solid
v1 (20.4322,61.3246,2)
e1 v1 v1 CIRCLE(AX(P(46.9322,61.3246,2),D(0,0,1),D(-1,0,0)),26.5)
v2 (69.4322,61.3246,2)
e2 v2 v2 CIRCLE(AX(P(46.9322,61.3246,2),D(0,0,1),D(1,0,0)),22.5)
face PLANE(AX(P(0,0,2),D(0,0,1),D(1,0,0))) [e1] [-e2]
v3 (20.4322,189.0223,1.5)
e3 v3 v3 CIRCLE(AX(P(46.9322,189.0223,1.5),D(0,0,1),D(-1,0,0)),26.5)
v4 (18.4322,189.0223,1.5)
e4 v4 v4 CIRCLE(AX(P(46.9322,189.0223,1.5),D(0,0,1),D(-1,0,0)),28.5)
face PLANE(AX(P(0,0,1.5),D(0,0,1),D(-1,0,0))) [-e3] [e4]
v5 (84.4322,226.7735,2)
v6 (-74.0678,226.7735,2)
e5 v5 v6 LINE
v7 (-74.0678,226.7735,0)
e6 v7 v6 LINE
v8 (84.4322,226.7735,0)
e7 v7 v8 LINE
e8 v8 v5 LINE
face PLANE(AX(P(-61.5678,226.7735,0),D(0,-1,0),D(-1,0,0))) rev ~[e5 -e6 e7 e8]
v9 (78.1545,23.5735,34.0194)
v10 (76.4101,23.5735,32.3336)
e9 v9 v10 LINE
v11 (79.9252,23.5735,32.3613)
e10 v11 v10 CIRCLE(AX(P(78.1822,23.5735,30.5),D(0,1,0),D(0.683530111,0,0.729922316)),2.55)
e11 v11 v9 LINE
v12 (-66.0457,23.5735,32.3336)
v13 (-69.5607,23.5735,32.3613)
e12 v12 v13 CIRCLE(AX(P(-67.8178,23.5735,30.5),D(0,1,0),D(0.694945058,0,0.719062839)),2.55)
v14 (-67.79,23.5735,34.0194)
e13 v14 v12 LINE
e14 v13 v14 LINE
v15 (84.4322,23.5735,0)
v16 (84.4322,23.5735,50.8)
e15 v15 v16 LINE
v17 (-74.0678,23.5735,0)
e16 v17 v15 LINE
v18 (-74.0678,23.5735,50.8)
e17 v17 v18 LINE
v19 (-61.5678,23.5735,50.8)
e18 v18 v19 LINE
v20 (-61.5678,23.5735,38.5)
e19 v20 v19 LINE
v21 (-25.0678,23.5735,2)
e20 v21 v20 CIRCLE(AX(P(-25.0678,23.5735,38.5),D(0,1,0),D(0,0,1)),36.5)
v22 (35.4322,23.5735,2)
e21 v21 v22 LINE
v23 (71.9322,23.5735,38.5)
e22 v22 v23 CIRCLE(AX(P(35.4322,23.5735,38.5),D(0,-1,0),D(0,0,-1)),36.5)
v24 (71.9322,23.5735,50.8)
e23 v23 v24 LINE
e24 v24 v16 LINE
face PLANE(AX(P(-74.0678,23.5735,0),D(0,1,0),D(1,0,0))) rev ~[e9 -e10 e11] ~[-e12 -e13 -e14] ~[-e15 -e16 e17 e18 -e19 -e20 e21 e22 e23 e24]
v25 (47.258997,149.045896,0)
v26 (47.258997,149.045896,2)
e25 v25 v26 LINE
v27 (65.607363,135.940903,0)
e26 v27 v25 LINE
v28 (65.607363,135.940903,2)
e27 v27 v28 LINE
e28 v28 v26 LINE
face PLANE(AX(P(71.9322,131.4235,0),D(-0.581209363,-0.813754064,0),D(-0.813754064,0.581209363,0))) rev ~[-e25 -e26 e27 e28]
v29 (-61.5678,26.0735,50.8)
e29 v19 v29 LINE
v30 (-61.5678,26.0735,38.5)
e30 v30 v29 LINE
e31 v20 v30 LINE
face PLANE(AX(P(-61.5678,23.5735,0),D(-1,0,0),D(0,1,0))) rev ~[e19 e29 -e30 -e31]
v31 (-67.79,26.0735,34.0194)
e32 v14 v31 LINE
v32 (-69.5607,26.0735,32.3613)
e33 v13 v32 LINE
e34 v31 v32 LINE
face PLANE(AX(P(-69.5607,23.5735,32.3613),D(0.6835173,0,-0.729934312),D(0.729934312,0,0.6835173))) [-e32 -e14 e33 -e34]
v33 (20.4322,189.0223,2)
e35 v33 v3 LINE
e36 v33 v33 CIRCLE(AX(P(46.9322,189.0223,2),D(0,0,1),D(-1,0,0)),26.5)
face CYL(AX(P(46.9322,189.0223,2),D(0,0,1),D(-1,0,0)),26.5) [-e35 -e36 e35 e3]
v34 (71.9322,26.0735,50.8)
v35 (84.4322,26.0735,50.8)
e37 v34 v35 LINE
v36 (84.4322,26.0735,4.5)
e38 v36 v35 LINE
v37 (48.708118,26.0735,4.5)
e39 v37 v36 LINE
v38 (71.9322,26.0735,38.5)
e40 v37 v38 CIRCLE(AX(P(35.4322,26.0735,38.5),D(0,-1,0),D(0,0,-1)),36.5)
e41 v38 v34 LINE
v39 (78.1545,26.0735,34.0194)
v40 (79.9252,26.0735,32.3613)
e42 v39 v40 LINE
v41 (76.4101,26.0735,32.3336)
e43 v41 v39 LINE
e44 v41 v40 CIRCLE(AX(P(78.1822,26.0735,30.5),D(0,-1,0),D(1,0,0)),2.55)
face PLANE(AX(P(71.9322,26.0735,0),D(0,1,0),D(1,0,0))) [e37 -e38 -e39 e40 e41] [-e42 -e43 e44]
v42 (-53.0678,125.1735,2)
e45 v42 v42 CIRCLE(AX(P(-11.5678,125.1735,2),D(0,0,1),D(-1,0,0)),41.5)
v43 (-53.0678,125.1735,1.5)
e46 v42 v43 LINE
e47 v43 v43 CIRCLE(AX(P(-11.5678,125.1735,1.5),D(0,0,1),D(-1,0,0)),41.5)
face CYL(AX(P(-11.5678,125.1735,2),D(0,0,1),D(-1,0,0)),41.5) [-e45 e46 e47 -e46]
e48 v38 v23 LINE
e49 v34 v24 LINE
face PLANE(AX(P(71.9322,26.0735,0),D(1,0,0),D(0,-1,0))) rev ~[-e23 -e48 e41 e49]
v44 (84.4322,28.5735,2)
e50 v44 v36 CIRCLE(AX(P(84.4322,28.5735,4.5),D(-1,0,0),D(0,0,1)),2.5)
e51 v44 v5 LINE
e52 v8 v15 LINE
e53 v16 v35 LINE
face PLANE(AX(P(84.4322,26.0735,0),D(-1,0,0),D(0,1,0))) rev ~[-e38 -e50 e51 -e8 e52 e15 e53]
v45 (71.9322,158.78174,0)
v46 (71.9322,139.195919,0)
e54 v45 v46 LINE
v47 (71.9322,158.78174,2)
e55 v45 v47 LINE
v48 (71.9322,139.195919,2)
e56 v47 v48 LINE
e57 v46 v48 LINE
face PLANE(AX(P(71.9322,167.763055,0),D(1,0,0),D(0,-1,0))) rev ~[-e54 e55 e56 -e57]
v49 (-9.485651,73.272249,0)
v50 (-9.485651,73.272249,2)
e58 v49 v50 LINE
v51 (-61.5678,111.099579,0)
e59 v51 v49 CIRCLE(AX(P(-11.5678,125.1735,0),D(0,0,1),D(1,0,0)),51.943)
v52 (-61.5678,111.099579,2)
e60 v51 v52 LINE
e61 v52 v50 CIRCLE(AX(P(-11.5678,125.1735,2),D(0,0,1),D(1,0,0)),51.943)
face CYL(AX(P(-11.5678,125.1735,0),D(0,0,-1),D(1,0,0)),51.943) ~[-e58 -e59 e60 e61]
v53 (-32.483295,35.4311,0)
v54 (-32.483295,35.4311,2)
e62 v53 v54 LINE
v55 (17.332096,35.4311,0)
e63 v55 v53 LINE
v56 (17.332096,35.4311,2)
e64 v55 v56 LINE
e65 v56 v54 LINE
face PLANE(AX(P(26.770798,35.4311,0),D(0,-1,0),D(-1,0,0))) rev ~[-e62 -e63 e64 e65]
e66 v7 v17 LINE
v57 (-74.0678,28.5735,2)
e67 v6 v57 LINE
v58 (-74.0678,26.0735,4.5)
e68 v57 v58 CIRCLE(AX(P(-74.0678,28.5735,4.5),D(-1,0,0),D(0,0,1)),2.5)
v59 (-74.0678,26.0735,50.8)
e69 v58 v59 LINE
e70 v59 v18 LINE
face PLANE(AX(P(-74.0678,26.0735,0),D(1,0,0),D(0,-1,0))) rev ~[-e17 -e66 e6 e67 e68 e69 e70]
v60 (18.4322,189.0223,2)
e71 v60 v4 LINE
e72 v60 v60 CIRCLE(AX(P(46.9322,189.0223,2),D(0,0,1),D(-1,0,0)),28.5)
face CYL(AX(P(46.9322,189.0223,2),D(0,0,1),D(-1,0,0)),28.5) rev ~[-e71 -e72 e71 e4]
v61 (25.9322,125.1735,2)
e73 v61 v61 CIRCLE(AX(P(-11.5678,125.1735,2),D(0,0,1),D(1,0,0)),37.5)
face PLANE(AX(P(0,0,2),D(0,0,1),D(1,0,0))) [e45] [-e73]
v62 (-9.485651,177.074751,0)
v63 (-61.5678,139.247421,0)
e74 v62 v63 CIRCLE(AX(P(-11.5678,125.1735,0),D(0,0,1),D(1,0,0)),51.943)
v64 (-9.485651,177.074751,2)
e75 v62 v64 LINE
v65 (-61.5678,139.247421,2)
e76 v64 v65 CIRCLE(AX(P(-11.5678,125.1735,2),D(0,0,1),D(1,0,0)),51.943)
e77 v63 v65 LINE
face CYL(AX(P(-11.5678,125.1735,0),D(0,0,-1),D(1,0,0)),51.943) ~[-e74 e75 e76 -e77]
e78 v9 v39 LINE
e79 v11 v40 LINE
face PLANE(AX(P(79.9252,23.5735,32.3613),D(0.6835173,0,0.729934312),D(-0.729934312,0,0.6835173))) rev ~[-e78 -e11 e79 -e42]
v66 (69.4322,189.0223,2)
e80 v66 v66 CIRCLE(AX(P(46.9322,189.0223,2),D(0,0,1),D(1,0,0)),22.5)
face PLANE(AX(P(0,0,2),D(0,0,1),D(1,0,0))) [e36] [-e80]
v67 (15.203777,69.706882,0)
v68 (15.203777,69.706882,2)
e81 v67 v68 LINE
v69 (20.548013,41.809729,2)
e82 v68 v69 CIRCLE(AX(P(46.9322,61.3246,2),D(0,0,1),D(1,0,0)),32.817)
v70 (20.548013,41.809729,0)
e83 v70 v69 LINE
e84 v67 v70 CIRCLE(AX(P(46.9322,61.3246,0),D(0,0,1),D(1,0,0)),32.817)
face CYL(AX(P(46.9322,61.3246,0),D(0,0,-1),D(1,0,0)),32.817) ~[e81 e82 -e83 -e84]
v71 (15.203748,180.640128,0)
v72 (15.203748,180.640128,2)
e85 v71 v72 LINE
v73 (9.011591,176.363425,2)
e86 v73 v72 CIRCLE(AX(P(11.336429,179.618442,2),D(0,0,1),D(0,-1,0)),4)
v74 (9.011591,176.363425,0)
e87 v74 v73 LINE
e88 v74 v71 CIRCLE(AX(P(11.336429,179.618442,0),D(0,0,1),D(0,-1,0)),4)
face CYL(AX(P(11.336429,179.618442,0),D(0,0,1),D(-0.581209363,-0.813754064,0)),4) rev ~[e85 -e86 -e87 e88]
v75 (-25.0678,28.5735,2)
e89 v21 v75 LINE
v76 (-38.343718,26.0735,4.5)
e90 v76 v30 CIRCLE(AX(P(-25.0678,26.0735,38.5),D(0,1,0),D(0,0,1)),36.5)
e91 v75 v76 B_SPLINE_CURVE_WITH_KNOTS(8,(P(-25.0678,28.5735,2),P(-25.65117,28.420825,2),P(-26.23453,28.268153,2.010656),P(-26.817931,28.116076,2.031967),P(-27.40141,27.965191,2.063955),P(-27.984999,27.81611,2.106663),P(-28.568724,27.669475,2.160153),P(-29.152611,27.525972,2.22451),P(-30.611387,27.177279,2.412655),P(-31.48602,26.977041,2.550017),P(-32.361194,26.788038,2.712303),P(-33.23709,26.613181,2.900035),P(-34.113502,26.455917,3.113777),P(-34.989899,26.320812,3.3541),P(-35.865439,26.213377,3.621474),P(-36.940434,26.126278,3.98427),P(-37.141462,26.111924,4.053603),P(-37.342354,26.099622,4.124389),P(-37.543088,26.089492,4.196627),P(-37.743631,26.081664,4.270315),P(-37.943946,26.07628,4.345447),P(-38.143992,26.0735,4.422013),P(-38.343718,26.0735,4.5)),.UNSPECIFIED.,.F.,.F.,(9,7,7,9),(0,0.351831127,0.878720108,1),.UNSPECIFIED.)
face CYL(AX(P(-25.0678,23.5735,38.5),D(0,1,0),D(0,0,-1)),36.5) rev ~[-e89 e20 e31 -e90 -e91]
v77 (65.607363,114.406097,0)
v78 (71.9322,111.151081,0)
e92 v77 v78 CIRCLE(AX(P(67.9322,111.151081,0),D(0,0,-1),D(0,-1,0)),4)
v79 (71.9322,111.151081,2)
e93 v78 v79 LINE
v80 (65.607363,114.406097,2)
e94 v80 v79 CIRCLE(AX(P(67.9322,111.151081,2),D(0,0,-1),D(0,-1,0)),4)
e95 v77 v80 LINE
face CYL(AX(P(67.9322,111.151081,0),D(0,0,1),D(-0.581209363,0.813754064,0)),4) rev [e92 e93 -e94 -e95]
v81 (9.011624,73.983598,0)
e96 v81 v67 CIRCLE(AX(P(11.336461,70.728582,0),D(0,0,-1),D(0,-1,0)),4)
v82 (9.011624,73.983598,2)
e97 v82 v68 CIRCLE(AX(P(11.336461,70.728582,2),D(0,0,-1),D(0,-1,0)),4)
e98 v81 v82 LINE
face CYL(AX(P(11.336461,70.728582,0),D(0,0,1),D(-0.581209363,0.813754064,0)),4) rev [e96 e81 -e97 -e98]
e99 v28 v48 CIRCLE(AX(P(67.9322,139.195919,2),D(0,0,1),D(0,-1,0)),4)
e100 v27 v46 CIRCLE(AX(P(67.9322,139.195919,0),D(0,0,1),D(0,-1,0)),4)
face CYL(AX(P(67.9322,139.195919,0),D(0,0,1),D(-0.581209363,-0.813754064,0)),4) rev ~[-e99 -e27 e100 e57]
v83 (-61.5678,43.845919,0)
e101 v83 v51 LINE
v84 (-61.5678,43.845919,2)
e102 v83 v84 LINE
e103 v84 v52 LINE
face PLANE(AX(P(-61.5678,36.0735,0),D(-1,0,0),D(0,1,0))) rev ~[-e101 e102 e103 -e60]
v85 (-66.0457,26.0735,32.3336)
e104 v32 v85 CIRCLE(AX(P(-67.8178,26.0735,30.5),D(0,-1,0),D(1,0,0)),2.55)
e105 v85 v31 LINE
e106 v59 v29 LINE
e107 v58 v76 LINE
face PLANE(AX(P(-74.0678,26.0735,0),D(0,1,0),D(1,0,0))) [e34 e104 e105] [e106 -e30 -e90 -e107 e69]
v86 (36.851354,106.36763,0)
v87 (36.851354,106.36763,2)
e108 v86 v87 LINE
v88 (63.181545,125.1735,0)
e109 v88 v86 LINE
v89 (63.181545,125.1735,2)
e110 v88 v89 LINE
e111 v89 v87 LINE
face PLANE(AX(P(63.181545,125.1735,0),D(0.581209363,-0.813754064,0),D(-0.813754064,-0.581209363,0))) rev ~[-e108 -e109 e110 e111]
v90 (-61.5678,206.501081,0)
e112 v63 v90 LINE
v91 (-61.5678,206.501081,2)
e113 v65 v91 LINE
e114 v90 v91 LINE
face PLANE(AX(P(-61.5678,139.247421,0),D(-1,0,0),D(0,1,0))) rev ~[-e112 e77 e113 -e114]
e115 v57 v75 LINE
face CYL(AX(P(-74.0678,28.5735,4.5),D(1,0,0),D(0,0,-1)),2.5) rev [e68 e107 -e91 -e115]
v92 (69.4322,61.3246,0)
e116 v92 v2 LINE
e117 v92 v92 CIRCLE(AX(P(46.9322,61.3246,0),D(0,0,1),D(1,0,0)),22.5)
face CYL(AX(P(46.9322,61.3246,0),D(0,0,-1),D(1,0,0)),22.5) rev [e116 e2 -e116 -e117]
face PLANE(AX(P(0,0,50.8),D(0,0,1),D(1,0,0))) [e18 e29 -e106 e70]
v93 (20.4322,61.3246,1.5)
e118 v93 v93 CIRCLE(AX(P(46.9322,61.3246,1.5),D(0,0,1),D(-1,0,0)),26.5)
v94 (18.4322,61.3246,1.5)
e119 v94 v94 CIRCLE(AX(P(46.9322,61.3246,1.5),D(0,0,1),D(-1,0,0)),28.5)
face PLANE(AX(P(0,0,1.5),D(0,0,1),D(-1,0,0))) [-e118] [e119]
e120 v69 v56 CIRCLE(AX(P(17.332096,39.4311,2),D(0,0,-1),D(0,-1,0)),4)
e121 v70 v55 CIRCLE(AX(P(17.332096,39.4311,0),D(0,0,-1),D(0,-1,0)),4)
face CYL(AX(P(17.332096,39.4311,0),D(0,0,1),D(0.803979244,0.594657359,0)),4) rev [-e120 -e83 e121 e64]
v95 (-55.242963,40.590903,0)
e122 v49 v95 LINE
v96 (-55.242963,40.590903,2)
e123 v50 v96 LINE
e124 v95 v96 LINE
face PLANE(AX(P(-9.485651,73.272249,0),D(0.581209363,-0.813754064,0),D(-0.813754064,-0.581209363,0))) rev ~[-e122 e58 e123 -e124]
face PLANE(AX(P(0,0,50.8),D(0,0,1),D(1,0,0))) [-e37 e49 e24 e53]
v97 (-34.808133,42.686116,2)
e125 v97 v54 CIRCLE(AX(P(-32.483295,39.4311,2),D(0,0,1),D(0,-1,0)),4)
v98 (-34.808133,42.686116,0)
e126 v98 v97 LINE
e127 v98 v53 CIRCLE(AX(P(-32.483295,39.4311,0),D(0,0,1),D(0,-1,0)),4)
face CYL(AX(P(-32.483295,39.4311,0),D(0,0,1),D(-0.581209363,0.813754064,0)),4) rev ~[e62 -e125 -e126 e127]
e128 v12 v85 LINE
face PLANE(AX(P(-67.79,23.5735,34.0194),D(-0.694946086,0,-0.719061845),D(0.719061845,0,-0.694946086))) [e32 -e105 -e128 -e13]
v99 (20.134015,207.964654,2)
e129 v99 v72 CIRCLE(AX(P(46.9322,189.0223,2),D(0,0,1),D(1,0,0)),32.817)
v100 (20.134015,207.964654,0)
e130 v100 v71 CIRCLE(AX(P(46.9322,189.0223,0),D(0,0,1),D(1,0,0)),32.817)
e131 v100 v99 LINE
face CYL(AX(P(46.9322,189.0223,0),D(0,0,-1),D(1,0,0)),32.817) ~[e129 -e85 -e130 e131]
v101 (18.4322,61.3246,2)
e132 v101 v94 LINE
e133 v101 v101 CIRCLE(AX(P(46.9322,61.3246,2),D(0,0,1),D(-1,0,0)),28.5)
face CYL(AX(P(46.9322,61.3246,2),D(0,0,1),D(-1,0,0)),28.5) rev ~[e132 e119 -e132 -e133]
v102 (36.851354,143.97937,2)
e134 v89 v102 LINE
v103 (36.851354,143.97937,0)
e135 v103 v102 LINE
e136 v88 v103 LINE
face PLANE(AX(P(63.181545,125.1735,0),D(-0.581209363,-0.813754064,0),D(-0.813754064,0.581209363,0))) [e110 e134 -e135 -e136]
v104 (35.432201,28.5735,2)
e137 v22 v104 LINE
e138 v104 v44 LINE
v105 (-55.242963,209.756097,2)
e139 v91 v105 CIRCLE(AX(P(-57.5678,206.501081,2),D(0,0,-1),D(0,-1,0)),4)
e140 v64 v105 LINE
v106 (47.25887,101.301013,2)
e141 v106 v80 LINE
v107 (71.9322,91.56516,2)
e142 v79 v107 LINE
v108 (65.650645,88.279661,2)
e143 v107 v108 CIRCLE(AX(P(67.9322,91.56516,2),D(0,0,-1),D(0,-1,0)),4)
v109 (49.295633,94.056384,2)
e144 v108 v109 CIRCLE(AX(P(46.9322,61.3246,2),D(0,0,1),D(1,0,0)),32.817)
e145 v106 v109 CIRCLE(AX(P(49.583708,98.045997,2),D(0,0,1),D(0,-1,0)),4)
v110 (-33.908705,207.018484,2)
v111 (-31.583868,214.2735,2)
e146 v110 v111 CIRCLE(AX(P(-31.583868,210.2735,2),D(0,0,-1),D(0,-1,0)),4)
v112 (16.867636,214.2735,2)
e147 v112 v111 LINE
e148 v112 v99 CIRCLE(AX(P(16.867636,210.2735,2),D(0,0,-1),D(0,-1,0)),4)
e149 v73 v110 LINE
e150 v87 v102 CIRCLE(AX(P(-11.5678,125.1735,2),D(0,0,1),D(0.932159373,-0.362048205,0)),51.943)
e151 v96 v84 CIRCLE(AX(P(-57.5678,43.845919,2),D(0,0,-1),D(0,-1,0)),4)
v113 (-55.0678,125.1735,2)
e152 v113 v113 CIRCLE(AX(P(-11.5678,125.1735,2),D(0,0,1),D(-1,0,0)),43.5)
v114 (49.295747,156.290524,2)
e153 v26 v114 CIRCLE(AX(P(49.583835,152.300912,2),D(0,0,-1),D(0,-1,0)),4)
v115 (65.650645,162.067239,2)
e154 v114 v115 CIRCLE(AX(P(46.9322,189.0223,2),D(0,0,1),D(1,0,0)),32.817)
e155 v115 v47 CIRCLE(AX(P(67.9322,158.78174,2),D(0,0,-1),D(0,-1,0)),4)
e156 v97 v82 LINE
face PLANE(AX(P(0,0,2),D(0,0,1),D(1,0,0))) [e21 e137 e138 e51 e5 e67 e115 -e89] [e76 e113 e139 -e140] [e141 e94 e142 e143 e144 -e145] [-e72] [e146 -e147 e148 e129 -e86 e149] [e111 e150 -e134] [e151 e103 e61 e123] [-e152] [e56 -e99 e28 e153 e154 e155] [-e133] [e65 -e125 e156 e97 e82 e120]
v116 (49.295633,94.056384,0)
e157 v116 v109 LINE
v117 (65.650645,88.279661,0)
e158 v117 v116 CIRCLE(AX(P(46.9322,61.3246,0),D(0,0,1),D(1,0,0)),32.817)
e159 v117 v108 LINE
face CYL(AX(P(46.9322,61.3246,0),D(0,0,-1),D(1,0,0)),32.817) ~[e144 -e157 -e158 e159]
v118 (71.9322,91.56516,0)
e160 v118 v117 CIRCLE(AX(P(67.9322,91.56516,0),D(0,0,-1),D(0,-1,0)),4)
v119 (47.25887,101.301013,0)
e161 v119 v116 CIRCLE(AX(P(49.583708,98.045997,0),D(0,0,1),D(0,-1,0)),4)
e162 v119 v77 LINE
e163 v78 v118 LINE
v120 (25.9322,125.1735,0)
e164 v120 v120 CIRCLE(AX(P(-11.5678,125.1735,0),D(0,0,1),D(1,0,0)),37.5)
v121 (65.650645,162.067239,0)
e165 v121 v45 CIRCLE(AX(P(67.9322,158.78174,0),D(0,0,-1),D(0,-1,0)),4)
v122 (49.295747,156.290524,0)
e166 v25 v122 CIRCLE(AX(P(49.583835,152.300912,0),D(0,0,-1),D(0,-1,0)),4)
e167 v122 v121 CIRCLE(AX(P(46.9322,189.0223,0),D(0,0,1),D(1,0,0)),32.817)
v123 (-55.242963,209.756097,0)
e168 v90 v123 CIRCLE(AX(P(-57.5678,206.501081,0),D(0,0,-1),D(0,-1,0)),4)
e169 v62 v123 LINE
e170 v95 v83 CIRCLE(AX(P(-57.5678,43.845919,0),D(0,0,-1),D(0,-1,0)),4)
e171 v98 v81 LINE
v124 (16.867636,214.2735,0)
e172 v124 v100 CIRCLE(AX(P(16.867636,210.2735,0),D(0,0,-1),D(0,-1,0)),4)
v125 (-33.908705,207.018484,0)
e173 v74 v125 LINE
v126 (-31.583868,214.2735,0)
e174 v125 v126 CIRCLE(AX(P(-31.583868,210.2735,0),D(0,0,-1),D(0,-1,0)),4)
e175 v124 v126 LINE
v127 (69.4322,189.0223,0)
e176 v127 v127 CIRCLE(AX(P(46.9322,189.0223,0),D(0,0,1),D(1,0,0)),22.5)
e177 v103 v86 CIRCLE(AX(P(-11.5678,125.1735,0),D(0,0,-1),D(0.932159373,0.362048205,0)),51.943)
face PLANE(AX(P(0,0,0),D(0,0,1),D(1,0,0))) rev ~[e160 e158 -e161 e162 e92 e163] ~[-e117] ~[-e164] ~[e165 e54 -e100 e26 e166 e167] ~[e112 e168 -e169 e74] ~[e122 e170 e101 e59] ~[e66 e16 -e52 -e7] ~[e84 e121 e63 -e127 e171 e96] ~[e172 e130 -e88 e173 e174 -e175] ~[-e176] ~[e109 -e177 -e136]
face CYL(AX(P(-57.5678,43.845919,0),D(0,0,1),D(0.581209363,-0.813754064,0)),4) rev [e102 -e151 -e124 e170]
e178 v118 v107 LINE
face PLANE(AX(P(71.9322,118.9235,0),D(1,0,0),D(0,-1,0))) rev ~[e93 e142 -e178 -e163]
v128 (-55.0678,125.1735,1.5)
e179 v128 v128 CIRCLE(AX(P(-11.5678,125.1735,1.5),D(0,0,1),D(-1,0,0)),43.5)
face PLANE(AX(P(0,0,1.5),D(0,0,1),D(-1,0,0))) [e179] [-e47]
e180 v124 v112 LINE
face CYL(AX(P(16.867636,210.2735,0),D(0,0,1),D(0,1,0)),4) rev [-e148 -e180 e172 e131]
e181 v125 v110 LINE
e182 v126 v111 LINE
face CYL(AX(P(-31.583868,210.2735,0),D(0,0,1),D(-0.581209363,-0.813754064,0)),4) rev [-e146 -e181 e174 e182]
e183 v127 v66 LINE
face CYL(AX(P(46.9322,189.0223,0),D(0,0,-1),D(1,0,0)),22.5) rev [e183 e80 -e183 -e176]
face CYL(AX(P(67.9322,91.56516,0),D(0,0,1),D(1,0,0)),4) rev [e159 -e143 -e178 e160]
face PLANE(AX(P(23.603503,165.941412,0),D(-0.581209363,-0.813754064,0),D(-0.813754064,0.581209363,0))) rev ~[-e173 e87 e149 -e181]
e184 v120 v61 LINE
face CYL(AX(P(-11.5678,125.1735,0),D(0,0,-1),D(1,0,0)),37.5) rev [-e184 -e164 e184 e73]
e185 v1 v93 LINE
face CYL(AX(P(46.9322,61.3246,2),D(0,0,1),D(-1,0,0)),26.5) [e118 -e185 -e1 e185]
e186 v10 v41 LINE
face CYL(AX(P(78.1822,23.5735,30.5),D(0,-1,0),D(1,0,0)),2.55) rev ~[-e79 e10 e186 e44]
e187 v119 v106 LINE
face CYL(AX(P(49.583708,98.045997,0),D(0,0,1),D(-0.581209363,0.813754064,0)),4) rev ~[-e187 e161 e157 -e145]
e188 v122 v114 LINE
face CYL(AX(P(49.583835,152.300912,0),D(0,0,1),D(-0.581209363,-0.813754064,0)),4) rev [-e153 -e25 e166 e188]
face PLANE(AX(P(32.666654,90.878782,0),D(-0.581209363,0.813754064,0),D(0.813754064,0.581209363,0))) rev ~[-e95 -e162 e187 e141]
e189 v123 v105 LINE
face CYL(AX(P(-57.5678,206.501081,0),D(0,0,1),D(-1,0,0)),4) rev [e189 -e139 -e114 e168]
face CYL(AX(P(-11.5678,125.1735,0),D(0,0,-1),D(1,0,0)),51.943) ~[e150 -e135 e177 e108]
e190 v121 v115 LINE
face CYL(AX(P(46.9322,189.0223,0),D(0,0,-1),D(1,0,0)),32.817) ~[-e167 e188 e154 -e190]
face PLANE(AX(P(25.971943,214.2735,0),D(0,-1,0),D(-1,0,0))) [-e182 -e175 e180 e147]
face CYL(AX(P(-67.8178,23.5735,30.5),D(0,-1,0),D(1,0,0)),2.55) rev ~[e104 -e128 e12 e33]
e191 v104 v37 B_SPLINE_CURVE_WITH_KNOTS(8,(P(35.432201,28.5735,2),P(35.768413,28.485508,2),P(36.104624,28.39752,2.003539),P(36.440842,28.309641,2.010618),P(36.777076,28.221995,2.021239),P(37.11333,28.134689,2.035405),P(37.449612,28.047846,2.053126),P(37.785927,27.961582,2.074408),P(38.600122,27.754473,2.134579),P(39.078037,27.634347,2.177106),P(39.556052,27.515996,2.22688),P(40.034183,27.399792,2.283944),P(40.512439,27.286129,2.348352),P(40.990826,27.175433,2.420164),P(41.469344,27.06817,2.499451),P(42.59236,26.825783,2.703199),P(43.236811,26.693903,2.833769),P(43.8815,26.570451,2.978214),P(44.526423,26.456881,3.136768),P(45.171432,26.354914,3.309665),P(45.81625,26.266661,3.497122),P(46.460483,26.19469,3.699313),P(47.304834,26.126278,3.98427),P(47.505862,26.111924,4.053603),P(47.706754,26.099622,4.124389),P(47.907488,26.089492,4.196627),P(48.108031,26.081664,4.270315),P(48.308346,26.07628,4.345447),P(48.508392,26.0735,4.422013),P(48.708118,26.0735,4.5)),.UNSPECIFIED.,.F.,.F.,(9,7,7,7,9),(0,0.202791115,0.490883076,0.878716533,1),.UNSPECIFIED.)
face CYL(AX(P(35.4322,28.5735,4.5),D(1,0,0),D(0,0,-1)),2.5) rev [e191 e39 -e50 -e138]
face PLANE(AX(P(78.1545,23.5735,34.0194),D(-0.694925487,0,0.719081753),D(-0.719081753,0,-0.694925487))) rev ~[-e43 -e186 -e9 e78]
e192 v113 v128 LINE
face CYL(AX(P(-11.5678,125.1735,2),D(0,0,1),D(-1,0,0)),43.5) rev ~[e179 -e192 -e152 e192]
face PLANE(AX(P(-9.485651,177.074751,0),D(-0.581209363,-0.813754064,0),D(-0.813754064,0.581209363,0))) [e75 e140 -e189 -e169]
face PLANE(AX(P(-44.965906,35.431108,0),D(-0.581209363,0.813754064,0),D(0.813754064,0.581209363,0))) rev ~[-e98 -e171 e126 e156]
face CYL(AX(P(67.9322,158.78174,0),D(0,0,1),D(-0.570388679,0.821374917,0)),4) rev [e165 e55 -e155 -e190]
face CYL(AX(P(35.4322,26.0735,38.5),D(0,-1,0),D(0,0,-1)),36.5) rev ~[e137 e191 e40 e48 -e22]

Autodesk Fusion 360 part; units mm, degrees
sketch "Sketch1" plane through (0, 0, 0) normal (0, 0, 1) x (1, 0, 0)
  line L0 (-74.0678, 23.5735) -> (-61.5678, 23.5735)
  line L1 (-61.5678, 23.5735) -> (-61.5678, 226.7735)
  line L2 (-61.5678, 226.7735) -> (-74.0678, 226.7735)
  line L3 (-74.0678, 226.7735) -> (-74.0678, 23.5735)
  line L4 (71.9322, 23.5735) -> (84.4322, 23.5735)
  line L5 (84.4322, 23.5735) -> (84.4322, 226.7735)
  line L6 (84.4322, 226.7735) -> (71.9322, 226.7735)
  line L7 (71.9322, 226.7735) -> (71.9322, 23.5735)
  line L8 (-32, 23.5735) -> (47, 23.5735) construction
  circle A0 centre (-67.8178, 5.0413) radius 2.55 construction
  circle A1 centre (78.1822, 4.9635) radius 2.55 construction
  line L9 (-74.0678, 26.0735) -> (-61.5678, 26.0735)
  line L10 (-61.5678, 26.0735) -> (-61.5678, 23.5735)
  line L11 (-61.5678, 23.5735) -> (-74.0678, 23.5735)
  line L12 (-74.0678, 23.5735) -> (-74.0678, 26.0735)
  line L13 (71.9322, 26.0735) -> (84.4322, 26.0735)
  line L14 (84.4322, 26.0735) -> (84.4322, 23.5735)
  line L15 (84.4322, 23.5735) -> (71.9322, 23.5735)
  line L16 (71.9322, 23.5735) -> (71.9322, 26.0735)
  line L17 (55.3253, 131.4235) -> (71.9322, 131.4235) construction
  line L18 (71.9322, 131.4235) -> (71.9322, 118.9235) construction
  line L19 (71.9322, 118.9235) -> (55.3253, 118.9235) construction
  line L20 (55.3253, 118.9235) -> (55.3253, 131.4235) construction
  line L21 (-61.5678, 23.5735) -> (71.9322, 118.9235)
  line L22 (71.9322, 131.4235) -> (-61.5678, 36.0735)
  line L23 (71.9322, 131.4235) -> (-61.5678, 226.7735)
  line L24 (71.9322, 118.9235) -> (-61.5678, 214.2735)
  line L25 (-61.5678, 23.5735) -> (71.9322, 23.5735)
  line L26 (67.9766, 35.4311) -> (-44.9659, 35.4311)
  circle A2 centre (46.9322, 61.3246) radius 22.5
  circle A3 centre (46.9322, 61.3246) radius 32.817
  circle A4 centre (-11.5678, 125.1735) radius 37.5
  circle A5 centre (-11.5678, 125.1735) radius 51.943
  line L27 (-61.5678, 226.7735) -> (71.9322, 226.7735)
  line L28 (71.9322, 214.2735) -> (-44.0665, 214.2735)
  line L29 (84.4322, 125.1735) -> (-74.0678, 125.1735) construction
  circle A6 centre (46.9322, 189.0223) radius 32.817
  circle A7 centre (46.9322, 189.0223) radius 22.5
  point P0 (-67.8178, 23.5735)
  point P1 (78.1822, 23.5735)
  point P2 (71.9322, 125.1735)
  point P3 (71.9322, 125.1735)
  dimension "d1" = 12.5
  dimension "d2" = 12.5
  dimension "d3" = 5.1
  dimension "d4" = 5.1
  dimension "d7" = 146
  dimension "d8" = 203.2
  dimension "d9" = 2.5
  dimension "d10" = 2.5
  dimension "d16" = 12.5
  dimension "d17" = 12.5
  dimension "d18" = 12.5
  dimension "d19" = 12.5
  dimension "d20" = 10.317
  dimension "d21" = 14.443
  dimension "d24" = 12.5
  dimension "d27" = 45
  dimension "d28" = 25
  dimension "d29" = 50
  dimension "d30" = 75
extrude "Extrude1" add sketch "Sketch1" along normal blind 50.8 contours L0 L1 L3 L9 L10 L11 L12 | L4 L5 L7 L13 L14 L15 L16 makes body 1 at (-69.9011, 26.0735, 16.9333) makes body 2 at (76.0989, 23.5735, 16.9333)
ref_plane "WorkPlane1" through (5.1822, 24.8235, 25.4) normal (1, 0, 0) x (0, 1, 0)
sketch "Sketch2" plane through (0, 23.5735, 0) normal (0, -1, 0) x (1, 0, 0)
  line L0 (-74.0678, 0) -> (-61.5678, 0)
  line L1 (-61.5678, 0) -> (-61.5678, 50.8)
  line L2 (-61.5678, 50.8) -> (-74.0678, 50.8)
  line L3 (-74.0678, 50.8) -> (-74.0678, 0)
  circle A0 centre (-67.8178, 30.5) radius 2.55
  line L4 (-74.0678, 0) -> (-61.5678, 0)
  line L5 (5.1822, 55.88) -> (5.1822, -5.08)
  circle A1 centre (78.1822, 30.5) radius 2.55
  line L6 (-69.5607, 32.3613) -> (-67.79, 34.0194)
  line L7 (-67.79, 34.0194) -> (-66.0457, 32.3336)
  line L8 (79.9252, 32.3613) -> (78.1545, 34.0194)
  line L9 (78.1545, 34.0194) -> (76.4101, 32.3336)
  point P0 (-67.8178, 50.8)
  dimension "d13" = 5.1
  dimension "d14" = 30.5
extrude "Extrude2" cut sketch "Sketch2" against normal through all contours A0 | A0 L6 L7 | A1 | A1 L8 L9 bodies 1 2
extrude "Extrude3" add sketch "Sketch1" along normal blind 2 contours L1 L10 L21 L22 L24 A3 A5 | L7 L16 L21 L25 L26 A3 | L1 L2 L3 L9 A5 | L21 A3 | L7 L21 L26 A3 | L26 A3 | L5 L6 L7 L13 A3 A6 | L1 L22 L23 L24 A5 A6 | L7 L23 L27 L28 A6 | L1 A5 | L1 L22 L24 A5 | L22 A5 | L7 A3 | L7 L22 L24 | L24 A5 | L7 L23 L28 A6 | L23 A6 | L28 A6 | L7 L28 A6 | L7 A6 bodies 1 2
fillet "Fillet2" radius 4 14 edges at (-61.5678, 36.0735, 1) (23.6038, 84.4057, 1) (26.7709, 35.4311, 1) (32.6668, 90.8788, 1) (71.9322, 118.9235, 1) (71.9322, 131.4235, 1) (32.6668, 159.4681, 1) (71.9322, 167.7631, 1) (-44.0665, 214.2735, 1) (23.6038, 165.9412, 1) (25.972, 214.2735, 1) (-61.5678, 214.2735, 1) (71.9322, 82.5838, 1) (-44.9659, 35.4311, 1) on bodies 1
sketch "Sketch3" plane through (0, 0, 2) normal (0, 0, 1) x (-1, 0, 0)
  line L0 (61.5678, -23.5735) -> (-71.9322, -23.5735)
  line L1 (-84.4322, -26.0735) -> (-84.4322, -226.7735)
  line L2 (-84.4322, -226.7735) -> (74.0678, -226.7735)
  line L3 (74.0678, -226.7735) -> (74.0678, -26.0735)
  line L4 (-36.8514, -143.9793) -> (-63.1816, -125.1735)
  line L5 (-63.1816, -125.1735) -> (-36.8514, -106.3676)
  arc A0 (-36.8514, -106.3676) -> (-36.8514, -143.9793) centre (11.5678, -125.1735) ccw
  line L6 (-47.2589, -101.301) -> (-65.6074, -114.4061)
  arc A1 (-71.9322, -111.151) -> (-65.6074, -114.4061) centre (-67.9322, -111.151) ccw
  line L7 (-71.9322, -111.151) -> (-71.9322, -91.5651)
  arc A2 (-65.6507, -88.2796) -> (-71.9322, -91.5651) centre (-67.9322, -91.5651) ccw
  arc A3 (-65.6507, -88.2796) -> (-49.2957, -94.0564) centre (-46.9322, -61.3246) ccw
  arc A4 (-47.2589, -101.301) -> (-49.2957, -94.0564) centre (-49.5838, -98.046) ccw
  circle A5 centre (11.5678, -125.1735) radius 37.5
  circle A6 centre (-46.9322, -189.0223) radius 22.5
  line L8 (55.2429, -209.7561) -> (9.4856, -177.0747)
  arc A7 (9.4856, -177.0747) -> (61.5678, -139.2473) centre (11.5678, -125.1735) ccw
  line L9 (61.5678, -139.2473) -> (61.5678, -206.501)
  arc A8 (55.2429, -209.7561) -> (61.5678, -206.501) centre (57.5678, -206.501) ccw
  circle A9 centre (-46.9322, -61.3246) radius 22.5
  arc A10 (-49.2957, -156.2905) -> (-65.6507, -162.0673) centre (-46.9322, -189.0223) ccw
  arc A11 (-71.9322, -158.7818) -> (-65.6507, -162.0673) centre (-67.9322, -158.7818) ccw
  line L10 (-71.9322, -158.7818) -> (-71.9322, -139.1959)
  arc A12 (-65.6074, -135.9409) -> (-71.9322, -139.1959) centre (-67.9322, -139.1959) ccw
  line L11 (-65.6074, -135.9409) -> (-47.2589, -149.0459)
  arc A13 (-49.2957, -156.2905) -> (-47.2589, -149.0459) centre (-49.5838, -152.3009) ccw
  line L12 (34.8081, -42.6861) -> (-9.0117, -73.9836)
  arc A14 (-15.2038, -69.7068) -> (-9.0117, -73.9836) centre (-11.3365, -70.7285) ccw
  arc A15 (-15.2038, -69.7068) -> (-20.5481, -41.8097) centre (-46.9322, -61.3246) ccw
  arc A16 (-17.3322, -35.4311) -> (-20.5481, -41.8097) centre (-17.3322, -39.4311) ccw
  line L13 (-17.3322, -35.4311) -> (32.4832, -35.4311)
  arc A17 (34.8081, -42.6861) -> (32.4832, -35.4311) centre (32.4832, -39.4311) ccw
  line L14 (61.5678, -43.8459) -> (61.5678, -111.0996)
  arc A18 (61.5678, -111.0996) -> (9.4856, -73.2722) centre (11.5678, -125.1735) ccw
  line L15 (9.4856, -73.2722) -> (55.2429, -40.5909)
  arc A19 (61.5678, -43.8459) -> (55.2429, -40.5909) centre (57.5678, -43.8459) ccw
  line L16 (31.5838, -214.2735) -> (-16.8677, -214.2735)
  arc A20 (-20.1341, -207.9646) -> (-16.8677, -214.2735) centre (-16.8677, -210.2735) ccw
  arc A21 (-20.1341, -207.9646) -> (-15.2038, -180.6401) centre (-46.9322, -189.0223) ccw
  arc A22 (-9.0117, -176.3633) -> (-15.2038, -180.6401) centre (-11.3365, -179.6184) ccw
  line L17 (-9.0117, -176.3633) -> (33.9087, -207.0184)
  arc A23 (31.5838, -214.2735) -> (33.9087, -207.0184) centre (31.5838, -210.2735) ccw
  circle A24 centre (-46.9322, -61.3246) radius 26.5
  circle A25 centre (-46.9322, -61.3246) radius 28.5
  circle A26 centre (11.5678, -125.1735) radius 41.5
  circle A27 centre (11.5678, -125.1735) radius 43.5
  circle A28 centre (-46.9322, -189.0223) radius 26.5
  circle A29 centre (-46.9322, -189.0223) radius 28.5
  line L18 (74.0678, -26.0735) -> (61.5678, -26.0735)
  line L19 (61.5678, -26.0735) -> (61.5678, -23.5735)
  line L20 (-71.9322, -23.5735) -> (-71.9322, -26.0735)
  line L21 (-71.9322, -26.0735) -> (-84.4322, -26.0735)
  dimension "d31" = 4
  dimension "d32" = 6
  dimension "d33" = 4
  dimension "d34" = 6
  dimension "d35" = 4
  dimension "d36" = 6
extrude "Extrude4" cut sketch "Sketch3" against normal blind 0.5 contours A25 | A27 | A29 bodies 1
fillet "Fillet3" radius 36.5 2 edges at (-61.5678, 24.8235, 2) (71.9322, 24.8235, 2) on bodies 1
fillet "Fillet4" radius 2.5 2 edges at (59.9322, 26.0735, 2) (-49.5678, 26.0735, 2) on bodies 1
